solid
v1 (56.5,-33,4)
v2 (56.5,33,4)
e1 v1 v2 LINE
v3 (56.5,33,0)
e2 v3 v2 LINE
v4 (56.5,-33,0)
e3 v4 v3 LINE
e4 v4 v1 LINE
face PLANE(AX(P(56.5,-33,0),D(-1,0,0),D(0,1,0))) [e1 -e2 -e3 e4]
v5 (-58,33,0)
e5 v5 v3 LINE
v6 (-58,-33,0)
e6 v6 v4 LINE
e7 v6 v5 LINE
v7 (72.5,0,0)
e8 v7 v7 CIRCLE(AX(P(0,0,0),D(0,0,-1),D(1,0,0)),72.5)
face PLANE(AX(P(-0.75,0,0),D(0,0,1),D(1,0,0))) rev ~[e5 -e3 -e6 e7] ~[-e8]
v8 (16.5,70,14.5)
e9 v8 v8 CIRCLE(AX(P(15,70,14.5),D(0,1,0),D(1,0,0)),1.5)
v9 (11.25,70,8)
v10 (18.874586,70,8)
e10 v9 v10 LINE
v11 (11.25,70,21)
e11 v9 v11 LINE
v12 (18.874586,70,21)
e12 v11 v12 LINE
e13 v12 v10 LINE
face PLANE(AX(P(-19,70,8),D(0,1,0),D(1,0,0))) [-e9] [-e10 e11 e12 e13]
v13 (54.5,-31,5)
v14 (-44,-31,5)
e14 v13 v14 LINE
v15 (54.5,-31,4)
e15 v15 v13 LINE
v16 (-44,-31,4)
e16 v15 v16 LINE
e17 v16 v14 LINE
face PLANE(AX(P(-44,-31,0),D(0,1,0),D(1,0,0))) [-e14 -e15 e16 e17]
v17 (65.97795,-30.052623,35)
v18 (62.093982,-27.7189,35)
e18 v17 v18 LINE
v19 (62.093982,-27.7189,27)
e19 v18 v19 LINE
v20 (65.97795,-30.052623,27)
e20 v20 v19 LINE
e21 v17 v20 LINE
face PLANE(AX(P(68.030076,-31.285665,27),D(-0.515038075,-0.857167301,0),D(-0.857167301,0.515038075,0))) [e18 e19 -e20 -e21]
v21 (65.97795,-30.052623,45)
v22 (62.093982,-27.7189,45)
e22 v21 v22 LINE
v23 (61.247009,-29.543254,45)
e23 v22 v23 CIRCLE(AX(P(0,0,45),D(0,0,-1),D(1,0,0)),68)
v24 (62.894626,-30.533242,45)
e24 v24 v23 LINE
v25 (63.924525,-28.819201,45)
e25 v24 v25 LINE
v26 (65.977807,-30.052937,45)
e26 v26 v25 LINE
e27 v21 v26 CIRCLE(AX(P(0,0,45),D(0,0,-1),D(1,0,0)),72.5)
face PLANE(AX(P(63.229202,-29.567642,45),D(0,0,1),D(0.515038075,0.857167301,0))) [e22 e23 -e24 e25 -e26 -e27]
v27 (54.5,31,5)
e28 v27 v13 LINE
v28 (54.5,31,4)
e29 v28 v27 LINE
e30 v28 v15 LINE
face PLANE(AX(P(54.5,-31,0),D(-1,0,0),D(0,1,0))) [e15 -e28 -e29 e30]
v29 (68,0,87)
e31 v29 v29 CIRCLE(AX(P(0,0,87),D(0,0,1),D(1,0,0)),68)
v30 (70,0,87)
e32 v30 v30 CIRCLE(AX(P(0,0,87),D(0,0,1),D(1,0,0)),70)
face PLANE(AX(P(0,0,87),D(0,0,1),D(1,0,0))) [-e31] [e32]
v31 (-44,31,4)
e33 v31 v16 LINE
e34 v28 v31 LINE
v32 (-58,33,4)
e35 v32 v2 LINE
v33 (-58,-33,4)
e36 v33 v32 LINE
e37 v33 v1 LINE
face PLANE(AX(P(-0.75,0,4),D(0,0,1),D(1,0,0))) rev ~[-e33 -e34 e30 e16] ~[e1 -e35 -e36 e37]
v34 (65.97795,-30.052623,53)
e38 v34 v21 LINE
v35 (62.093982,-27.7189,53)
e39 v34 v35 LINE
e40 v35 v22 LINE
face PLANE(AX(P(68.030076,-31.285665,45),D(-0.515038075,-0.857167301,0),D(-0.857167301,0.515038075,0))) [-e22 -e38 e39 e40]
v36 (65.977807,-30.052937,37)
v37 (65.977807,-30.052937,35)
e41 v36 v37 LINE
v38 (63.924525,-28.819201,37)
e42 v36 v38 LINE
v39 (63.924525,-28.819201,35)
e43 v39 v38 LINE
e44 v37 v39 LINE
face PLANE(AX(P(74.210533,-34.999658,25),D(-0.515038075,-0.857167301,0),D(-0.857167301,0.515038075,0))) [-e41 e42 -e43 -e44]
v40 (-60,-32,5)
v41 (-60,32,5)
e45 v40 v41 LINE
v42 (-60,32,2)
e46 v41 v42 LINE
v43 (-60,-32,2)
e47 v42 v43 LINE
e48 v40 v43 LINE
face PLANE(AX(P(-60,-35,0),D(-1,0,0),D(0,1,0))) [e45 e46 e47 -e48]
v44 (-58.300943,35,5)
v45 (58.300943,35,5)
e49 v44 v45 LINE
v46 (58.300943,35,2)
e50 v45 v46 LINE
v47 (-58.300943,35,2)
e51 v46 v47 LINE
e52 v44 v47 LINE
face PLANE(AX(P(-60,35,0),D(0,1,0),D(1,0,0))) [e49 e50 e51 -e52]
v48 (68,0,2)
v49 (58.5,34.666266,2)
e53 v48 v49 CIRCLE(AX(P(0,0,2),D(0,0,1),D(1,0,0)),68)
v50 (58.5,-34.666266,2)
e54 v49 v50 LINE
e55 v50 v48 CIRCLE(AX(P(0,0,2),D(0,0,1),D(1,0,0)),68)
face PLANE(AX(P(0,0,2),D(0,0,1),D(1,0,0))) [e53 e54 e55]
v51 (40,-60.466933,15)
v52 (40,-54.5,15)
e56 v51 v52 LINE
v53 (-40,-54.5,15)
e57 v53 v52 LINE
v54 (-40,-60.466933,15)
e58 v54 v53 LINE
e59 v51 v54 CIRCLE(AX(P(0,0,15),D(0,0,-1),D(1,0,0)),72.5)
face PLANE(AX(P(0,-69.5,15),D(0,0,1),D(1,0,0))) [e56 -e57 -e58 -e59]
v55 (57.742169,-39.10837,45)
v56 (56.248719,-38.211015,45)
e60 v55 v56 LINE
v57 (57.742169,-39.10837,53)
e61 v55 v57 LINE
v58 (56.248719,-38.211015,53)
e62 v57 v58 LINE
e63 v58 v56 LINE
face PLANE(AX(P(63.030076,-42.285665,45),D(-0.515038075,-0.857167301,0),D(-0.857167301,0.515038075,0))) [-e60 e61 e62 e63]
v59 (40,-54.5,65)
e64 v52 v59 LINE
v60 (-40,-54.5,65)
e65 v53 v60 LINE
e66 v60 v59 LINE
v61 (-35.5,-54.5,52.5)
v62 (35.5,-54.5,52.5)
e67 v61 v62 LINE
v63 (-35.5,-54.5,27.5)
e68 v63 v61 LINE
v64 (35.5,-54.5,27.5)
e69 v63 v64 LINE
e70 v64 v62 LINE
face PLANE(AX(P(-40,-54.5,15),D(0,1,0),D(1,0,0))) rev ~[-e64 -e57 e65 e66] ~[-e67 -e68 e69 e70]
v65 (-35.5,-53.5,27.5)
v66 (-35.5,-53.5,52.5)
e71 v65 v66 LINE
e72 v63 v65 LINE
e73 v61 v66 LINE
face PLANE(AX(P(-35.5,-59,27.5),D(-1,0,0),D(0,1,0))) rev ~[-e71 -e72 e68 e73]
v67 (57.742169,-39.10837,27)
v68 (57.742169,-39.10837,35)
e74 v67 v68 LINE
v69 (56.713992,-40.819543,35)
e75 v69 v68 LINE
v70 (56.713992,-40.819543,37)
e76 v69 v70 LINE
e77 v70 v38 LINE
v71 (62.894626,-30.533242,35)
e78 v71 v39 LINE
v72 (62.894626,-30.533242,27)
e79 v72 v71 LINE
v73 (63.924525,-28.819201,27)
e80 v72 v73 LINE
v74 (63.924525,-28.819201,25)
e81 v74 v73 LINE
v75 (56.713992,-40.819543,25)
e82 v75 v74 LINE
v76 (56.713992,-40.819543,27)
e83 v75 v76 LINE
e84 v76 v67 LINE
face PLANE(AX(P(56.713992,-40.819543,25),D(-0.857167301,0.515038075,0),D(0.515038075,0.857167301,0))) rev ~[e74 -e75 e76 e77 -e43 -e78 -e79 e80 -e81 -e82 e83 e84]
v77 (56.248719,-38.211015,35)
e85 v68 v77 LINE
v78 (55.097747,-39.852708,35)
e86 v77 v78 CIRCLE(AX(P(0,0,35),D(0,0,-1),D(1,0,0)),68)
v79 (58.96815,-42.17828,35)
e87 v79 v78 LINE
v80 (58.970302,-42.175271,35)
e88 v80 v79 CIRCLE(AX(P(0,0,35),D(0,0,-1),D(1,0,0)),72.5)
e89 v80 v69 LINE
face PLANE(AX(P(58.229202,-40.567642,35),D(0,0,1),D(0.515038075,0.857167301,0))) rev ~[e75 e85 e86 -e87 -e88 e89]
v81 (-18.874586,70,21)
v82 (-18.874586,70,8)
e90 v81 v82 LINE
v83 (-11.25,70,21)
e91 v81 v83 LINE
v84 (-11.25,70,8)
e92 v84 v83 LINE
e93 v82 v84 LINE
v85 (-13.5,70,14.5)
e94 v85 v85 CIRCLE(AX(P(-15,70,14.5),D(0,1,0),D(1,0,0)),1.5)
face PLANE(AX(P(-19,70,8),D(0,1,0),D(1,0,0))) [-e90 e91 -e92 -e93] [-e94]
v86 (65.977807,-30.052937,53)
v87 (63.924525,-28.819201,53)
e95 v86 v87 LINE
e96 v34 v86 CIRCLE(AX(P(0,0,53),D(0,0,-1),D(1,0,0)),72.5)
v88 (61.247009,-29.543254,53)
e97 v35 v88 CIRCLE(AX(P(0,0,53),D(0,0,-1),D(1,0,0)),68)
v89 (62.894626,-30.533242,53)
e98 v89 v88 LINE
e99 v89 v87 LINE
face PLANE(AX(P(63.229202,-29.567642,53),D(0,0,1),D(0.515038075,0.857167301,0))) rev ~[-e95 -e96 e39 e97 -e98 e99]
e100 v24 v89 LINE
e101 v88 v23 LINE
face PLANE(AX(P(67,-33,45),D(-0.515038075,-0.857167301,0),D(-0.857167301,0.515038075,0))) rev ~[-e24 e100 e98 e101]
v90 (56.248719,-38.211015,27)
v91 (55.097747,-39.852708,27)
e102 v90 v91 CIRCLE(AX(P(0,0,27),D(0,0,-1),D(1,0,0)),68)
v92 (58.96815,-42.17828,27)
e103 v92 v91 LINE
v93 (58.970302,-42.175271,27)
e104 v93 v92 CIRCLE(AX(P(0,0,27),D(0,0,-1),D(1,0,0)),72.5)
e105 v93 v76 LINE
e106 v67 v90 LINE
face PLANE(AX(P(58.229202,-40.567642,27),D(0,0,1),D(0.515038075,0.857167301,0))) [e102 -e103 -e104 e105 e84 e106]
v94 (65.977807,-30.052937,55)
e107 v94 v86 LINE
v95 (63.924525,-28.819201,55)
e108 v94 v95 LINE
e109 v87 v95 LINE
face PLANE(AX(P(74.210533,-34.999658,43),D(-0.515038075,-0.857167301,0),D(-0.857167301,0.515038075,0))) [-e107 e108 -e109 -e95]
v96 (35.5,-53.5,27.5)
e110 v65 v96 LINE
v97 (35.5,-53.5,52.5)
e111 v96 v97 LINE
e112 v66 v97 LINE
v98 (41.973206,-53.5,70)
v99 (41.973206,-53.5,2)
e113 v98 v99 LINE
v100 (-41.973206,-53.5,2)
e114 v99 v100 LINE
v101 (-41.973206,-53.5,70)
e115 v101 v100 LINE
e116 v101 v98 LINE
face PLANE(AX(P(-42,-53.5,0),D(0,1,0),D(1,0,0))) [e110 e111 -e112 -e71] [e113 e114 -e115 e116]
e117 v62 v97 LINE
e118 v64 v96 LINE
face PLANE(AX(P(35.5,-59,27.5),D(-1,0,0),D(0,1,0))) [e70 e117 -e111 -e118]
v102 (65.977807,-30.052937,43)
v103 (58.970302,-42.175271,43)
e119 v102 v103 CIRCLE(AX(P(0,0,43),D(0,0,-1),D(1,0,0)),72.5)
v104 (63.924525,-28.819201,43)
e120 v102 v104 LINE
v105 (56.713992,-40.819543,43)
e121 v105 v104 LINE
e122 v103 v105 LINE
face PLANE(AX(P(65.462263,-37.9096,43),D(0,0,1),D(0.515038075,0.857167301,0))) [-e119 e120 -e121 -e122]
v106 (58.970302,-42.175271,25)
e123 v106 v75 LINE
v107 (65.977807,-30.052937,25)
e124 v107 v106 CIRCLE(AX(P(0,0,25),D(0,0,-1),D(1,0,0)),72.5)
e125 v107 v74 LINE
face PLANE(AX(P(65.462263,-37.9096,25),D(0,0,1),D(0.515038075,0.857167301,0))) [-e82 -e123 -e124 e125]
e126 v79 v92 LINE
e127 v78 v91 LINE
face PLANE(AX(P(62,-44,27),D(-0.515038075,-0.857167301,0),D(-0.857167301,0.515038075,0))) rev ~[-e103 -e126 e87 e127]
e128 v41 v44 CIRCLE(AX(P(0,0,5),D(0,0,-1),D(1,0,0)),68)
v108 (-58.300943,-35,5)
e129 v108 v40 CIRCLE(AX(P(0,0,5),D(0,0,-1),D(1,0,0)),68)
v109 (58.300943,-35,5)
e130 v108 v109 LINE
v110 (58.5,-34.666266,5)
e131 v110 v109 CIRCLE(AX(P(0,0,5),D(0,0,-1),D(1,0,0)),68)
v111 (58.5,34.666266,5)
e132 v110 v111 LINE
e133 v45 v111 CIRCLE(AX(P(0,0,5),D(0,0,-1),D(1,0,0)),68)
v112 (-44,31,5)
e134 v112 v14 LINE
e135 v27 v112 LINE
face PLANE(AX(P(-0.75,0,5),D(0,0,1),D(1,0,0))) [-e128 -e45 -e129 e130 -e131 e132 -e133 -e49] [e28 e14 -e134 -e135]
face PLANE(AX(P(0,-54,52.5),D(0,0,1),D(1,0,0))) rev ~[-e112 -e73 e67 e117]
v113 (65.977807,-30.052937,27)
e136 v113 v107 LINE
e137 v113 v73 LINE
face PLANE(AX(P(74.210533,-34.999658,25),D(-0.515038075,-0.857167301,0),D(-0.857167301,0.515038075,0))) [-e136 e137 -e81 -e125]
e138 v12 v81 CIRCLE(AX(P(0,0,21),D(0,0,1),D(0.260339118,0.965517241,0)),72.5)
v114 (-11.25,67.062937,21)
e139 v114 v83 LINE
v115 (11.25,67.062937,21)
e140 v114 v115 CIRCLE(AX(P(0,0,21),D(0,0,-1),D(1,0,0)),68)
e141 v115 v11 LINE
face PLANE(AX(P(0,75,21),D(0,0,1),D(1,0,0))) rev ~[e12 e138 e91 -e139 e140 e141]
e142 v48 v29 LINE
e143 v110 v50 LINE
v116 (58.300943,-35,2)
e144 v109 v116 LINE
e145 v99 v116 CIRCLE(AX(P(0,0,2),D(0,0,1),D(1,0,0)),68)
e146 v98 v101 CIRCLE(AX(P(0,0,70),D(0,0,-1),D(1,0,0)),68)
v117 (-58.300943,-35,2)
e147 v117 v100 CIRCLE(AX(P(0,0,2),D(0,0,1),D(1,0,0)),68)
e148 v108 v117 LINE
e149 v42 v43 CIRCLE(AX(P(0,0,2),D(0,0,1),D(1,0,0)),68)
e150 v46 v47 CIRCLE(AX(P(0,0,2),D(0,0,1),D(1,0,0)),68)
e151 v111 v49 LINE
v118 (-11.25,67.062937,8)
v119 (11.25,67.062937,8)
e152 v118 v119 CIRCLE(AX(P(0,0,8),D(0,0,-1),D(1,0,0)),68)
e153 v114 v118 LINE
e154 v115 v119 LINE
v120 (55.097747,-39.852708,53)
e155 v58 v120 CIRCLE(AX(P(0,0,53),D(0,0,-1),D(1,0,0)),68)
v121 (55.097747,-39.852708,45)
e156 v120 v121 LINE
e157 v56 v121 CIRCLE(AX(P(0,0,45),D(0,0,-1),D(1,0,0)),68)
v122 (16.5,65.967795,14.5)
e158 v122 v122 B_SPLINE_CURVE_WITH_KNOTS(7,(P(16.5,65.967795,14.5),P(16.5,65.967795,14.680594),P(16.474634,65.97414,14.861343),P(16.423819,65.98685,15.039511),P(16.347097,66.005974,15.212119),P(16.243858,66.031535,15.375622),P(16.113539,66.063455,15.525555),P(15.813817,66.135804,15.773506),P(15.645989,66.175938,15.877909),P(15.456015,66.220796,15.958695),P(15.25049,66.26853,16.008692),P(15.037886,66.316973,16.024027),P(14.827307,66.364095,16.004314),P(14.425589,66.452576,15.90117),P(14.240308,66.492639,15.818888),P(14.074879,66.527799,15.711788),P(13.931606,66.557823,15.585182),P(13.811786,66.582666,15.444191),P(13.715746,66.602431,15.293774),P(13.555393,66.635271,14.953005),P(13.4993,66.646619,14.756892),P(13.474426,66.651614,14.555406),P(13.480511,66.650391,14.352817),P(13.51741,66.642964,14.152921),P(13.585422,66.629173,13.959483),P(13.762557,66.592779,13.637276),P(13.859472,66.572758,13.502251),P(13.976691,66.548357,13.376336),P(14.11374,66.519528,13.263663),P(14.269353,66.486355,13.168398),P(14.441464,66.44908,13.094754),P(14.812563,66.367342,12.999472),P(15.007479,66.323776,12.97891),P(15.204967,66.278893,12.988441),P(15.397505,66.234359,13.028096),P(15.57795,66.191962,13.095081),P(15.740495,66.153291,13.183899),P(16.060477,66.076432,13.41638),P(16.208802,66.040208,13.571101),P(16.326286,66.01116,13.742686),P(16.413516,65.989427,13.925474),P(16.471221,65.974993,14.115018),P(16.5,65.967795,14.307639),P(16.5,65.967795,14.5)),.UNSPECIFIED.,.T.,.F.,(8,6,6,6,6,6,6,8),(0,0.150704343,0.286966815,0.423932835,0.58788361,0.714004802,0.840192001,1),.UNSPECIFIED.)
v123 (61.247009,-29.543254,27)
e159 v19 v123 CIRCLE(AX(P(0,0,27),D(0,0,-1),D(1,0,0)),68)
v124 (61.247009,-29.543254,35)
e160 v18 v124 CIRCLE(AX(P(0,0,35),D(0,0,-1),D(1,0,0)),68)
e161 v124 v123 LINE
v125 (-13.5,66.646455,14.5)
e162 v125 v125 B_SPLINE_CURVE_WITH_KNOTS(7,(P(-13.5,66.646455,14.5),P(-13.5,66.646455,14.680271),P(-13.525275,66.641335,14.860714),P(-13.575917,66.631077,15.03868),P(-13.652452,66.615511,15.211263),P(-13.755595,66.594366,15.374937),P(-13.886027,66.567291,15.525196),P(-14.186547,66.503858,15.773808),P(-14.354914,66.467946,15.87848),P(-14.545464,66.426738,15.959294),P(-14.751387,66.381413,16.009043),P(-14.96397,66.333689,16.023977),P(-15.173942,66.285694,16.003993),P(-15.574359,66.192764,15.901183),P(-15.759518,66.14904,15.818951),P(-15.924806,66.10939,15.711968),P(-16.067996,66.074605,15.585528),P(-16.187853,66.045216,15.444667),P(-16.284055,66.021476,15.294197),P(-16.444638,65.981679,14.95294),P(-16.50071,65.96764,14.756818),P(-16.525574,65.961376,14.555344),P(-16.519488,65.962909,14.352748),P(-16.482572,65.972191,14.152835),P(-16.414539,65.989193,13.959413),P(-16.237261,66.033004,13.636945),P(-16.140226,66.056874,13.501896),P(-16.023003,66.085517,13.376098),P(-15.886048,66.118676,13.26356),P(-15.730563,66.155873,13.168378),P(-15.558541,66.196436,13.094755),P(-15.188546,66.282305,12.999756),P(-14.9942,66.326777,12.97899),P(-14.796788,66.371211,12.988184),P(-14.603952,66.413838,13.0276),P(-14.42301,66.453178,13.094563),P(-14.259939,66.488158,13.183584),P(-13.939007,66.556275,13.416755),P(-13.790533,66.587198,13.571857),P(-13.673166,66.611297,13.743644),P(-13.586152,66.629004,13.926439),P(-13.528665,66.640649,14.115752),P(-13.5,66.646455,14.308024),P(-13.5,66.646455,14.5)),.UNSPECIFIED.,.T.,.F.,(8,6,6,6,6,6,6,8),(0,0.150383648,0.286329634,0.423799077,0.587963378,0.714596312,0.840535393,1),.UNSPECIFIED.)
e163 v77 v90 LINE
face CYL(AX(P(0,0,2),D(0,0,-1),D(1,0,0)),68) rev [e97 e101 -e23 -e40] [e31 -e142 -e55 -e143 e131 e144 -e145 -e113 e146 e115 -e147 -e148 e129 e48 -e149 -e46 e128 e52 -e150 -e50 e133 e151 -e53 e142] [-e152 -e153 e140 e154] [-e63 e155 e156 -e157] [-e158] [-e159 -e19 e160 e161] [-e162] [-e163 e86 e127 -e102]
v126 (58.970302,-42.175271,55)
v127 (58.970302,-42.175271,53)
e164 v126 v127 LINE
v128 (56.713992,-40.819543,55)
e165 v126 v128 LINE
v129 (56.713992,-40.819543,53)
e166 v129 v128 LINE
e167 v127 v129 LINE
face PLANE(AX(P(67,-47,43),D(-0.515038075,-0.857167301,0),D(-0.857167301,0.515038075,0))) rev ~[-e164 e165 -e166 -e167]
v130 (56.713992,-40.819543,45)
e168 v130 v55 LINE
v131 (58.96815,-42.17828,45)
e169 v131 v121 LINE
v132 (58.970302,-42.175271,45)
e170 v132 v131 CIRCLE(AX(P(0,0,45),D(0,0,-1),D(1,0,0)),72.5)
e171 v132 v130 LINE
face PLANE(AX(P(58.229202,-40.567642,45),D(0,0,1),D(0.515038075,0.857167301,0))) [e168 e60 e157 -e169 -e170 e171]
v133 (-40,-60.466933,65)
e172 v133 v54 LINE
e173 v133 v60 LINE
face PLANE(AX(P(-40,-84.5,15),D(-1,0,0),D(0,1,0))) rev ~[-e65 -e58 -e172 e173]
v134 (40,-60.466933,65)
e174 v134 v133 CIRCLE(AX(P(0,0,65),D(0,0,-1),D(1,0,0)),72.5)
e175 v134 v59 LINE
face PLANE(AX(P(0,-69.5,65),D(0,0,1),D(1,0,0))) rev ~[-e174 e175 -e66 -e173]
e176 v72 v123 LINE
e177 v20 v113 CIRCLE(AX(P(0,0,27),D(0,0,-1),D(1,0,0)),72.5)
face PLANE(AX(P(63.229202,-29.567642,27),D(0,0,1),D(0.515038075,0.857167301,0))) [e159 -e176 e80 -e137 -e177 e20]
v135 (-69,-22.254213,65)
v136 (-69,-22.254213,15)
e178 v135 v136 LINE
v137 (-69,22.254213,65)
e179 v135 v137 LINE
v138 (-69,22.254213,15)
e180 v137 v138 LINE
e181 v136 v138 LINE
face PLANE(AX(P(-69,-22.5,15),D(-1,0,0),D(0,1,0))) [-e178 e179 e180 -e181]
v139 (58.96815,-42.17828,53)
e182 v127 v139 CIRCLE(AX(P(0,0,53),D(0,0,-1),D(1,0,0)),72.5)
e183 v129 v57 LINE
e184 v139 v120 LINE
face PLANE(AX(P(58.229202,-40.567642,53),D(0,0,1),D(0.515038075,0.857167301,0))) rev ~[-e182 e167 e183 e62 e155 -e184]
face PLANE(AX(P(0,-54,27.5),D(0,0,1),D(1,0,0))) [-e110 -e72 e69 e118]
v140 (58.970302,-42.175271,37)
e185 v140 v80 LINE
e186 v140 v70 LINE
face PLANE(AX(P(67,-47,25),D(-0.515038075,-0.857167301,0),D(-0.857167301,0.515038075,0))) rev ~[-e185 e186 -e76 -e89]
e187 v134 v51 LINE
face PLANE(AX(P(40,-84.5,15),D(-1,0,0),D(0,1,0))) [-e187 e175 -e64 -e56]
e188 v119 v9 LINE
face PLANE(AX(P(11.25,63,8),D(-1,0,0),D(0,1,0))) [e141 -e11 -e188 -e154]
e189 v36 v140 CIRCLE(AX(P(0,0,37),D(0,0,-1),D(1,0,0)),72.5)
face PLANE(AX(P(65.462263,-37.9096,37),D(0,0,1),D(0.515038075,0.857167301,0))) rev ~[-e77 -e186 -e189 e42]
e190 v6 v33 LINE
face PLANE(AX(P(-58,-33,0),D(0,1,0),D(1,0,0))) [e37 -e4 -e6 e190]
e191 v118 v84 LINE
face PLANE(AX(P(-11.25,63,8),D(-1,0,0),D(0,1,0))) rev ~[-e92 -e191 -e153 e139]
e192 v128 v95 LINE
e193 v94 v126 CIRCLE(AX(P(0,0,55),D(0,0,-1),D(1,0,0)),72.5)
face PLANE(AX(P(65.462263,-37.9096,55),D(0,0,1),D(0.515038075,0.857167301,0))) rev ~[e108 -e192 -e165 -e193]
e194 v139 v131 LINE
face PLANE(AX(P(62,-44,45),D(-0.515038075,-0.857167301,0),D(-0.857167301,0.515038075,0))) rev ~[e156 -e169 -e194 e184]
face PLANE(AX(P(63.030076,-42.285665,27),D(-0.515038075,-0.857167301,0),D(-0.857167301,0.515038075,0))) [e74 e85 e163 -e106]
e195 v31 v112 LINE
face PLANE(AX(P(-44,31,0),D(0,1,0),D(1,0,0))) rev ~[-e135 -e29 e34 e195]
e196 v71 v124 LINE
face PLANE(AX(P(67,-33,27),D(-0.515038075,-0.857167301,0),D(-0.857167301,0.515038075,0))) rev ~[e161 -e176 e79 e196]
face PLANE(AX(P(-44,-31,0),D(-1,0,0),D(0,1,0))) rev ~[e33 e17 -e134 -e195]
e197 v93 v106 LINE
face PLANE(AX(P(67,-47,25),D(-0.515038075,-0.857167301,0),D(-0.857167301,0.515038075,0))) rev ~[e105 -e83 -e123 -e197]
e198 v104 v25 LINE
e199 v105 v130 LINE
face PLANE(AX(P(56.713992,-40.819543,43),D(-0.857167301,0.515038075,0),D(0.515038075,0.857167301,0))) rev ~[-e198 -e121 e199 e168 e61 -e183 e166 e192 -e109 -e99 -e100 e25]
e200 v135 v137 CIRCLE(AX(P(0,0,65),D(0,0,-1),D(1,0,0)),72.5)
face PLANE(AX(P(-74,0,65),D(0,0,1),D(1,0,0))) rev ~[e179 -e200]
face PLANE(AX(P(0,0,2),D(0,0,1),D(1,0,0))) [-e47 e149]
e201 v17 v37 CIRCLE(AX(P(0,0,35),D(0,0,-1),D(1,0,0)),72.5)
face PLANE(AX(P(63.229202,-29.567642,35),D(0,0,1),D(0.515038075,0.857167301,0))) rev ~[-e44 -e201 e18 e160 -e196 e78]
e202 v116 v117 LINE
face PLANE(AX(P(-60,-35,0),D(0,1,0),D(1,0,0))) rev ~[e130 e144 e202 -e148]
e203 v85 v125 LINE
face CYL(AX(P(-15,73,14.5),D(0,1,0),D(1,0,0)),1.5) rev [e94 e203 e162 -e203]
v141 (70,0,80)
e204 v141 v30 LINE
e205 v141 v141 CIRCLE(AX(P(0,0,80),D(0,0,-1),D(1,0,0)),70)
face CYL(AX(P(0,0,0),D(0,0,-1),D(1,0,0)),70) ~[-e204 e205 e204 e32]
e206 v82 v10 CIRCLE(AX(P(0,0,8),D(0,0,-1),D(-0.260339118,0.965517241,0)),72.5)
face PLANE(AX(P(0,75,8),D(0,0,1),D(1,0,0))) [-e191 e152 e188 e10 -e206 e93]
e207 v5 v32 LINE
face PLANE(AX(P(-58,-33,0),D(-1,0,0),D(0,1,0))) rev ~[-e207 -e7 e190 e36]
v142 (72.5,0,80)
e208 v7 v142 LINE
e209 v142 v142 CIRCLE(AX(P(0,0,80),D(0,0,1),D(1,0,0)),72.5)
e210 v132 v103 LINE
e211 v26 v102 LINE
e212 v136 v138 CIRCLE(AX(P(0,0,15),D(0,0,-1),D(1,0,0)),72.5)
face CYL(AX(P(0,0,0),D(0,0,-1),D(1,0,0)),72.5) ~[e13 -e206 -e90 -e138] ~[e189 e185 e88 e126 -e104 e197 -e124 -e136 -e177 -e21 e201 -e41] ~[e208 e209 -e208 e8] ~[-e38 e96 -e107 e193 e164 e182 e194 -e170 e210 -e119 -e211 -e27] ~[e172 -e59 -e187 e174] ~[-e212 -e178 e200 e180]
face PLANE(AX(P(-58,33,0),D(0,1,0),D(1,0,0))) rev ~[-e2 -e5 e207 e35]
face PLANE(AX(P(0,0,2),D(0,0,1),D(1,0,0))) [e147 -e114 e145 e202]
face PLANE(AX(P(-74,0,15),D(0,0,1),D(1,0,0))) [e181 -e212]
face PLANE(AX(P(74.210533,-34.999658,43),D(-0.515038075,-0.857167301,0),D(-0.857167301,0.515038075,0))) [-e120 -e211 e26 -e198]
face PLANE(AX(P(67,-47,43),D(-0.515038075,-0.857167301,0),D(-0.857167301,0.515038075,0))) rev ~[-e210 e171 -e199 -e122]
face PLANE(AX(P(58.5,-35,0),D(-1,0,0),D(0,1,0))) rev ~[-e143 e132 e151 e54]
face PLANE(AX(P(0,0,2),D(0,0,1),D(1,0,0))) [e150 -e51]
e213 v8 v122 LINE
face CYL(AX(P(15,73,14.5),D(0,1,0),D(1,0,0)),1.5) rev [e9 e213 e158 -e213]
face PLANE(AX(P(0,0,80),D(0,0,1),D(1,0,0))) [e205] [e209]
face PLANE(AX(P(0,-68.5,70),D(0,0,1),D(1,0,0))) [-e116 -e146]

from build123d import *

# Parameters (mm, degrees)
CYLINDER004_R          = 1.5
CYLINDER004_DEPTH      = 10
CYLINDER004_ROLL_ANGLE = 90
CYLINDER003_R          = 1.5
CYLINDER003_DEPTH      = 10
CYLINDER003_ROLL_ANGLE = 90
BOX016_W               = 22.5
BOX016_H               = 13
BOX016_DEPTH           = 13
BOX015_W               = 38
BOX015_H               = 10
BOX015_DEPTH           = 13
BOX013_W               = 98.5
BOX013_H               = 62
BOX013_DEPTH           = 10
BOX012_W               = 114.5
BOX012_H               = 66
BOX012_DEPTH           = 4
BOX014_W               = 118.5
BOX014_H               = 70
BOX014_DEPTH           = 5
BOX010_W               = 2
BOX010_H               = 10
BOX010_DEPTH           = 8
BOX010_PLACEMENT_ANGLE = 59
BOX011_W               = 2
BOX011_H               = 10
BOX011_DEPTH           = 8
BOX011_PLACEMENT_ANGLE = 59
BOX009_W               = 2
BOX009_H               = 10
BOX009_DEPTH           = 8
BOX009_PLACEMENT_ANGLE = 59
BOX008_W               = 2
BOX008_H               = 10
BOX008_DEPTH           = 8
BOX008_PLACEMENT_ANGLE = 59
BOX007_W               = 10
BOX007_H               = 45
BOX007_DEPTH           = 50
BOX006_W               = 14
BOX006_H               = 12
BOX006_DEPTH           = 12
BOX006_PLACEMENT_ANGLE = 59
BOX004_W               = 14
BOX004_H               = 12
BOX004_DEPTH           = 12
BOX004_PLACEMENT_ANGLE = 59
BOX002_W               = 71
BOX002_H               = 10
BOX002_DEPTH           = 25
BOX001_W               = 80
BOX001_H               = 30
BOX001_DEPTH           = 50
BOX_W                  = 84
BOX_H                  = 30
BOX_DEPTH              = 70
CYLINDER001_R          = 70
CYLINDER001_DEPTH      = 87
CYLINDER_R             = 72.5
CYLINDER_DEPTH         = 80
CYLINDER002_R          = 68
CYLINDER002_DEPTH      = 85


with BuildPart() as screwcutout002:
    # Cylinder004 → Cylinder004 (new body)
    with BuildSketch(Plane.XY):
        Circle(CYLINDER004_R)
    extrude(amount=CYLINDER004_DEPTH)


with BuildPart() as screwcutout002_1:
    # Cylinder004 roll: moved
    add(screwcutout002.part.rotate(Axis((0, 0, 0), (1, 0, 0)), CYLINDER004_ROLL_ANGLE))


with BuildPart() as screwcutout002_2:
    # Cylinder004 placement: moved
    add(screwcutout002_1.part.moved(Location((-15, 73, 14.5))))


with BuildPart() as screwcutout1:
    # Cylinder003 → Cylinder003 (new body)
    with BuildSketch(Plane.XY):
        Circle(CYLINDER003_R)
    extrude(amount=CYLINDER003_DEPTH)


with BuildPart() as screwcutout1_1:
    # Cylinder003 roll: moved
    add(screwcutout1.part.rotate(Axis((0, 0, 0), (1, 0, 0)), CYLINDER003_ROLL_ANGLE))


with BuildPart() as screwcutout1_2:
    # Cylinder003 placement: moved
    add(screwcutout1_1.part.moved(Location((15, 73, 14.5))))


with BuildPart() as powercutout:
    # Box016 → Box016 (new body)
    with BuildSketch(Plane(origin=(-11.25, 63, 8), x_dir=(1, 0, 0), z_dir=(0, 0, 1))):
        with Locations((11.25, 6.5)):
            Rectangle(BOX016_W, BOX016_H)
    extrude(amount=BOX016_DEPTH)


with BuildPart() as powerswitch:
    # Box015 → Box015 (new body)
    with BuildSketch(Plane(origin=(-19, 70, 8), x_dir=(1, 0, 0), z_dir=(0, 0, 1))):
        with Locations((19, 5)):
            Rectangle(BOX015_W, BOX015_H)
    extrude(amount=BOX015_DEPTH)


with BuildPart() as battery_cutout:
    # Box013 → Box013 (new body)
    with BuildSketch(Plane(origin=(-44, -31, 0), x_dir=(1, 0, 0), z_dir=(0, 0, 1))):
        with Locations((49.25, 31)):
            Rectangle(BOX013_W, BOX013_H)
    extrude(amount=BOX013_DEPTH)


with BuildPart() as battery_cutout001:
    # Box012 → Box012 (new body)
    with BuildSketch(Plane(origin=(-58, -33, 0), x_dir=(1, 0, 0), z_dir=(0, 0, 1))):
        with Locations((57.25, 33)):
            Rectangle(BOX012_W, BOX012_H)
    extrude(amount=BOX012_DEPTH)


with BuildPart() as battery_fillup:
    # Box014 → Box014 (new body)
    with BuildSketch(Plane(origin=(-60, -35, 0), x_dir=(1, 0, 0), z_dir=(0, 0, 1))):
        with Locations((59.25, 35)):
            Rectangle(BOX014_W, BOX014_H)
    extrude(amount=BOX014_DEPTH)


with BuildPart() as pin2_cutout001:
    # Box010 → Box010 (new body)
    with BuildSketch(Plane.XY):
        with Locations((1, 5)):
            Rectangle(BOX010_W, BOX010_H)
    extrude(amount=BOX010_DEPTH)


with BuildPart() as pin2_cutout001_1:
    # Box010 placement: moved
    add(pin2_cutout001.part.moved(Location((67, -33, 45))).rotate(Axis((67, -33, 45), (0, 0, 1)), BOX010_PLACEMENT_ANGLE))


with BuildPart() as pin1_cutout001:
    # Box011 → Box011 (new body)
    with BuildSketch(Plane.XY):
        with Locations((1, 5)):
            Rectangle(BOX011_W, BOX011_H)
    extrude(amount=BOX011_DEPTH)


with BuildPart() as pin1_cutout001_1:
    # Box011 placement: moved
    add(pin1_cutout001.part.moved(Location((62, -44, 45))).rotate(Axis((62, -44, 45), (0, 0, 1)), BOX011_PLACEMENT_ANGLE))


with BuildPart() as pin2_cutout:
    # Box009 → Box009 (new body)
    with BuildSketch(Plane.XY):
        with Locations((1, 5)):
            Rectangle(BOX009_W, BOX009_H)
    extrude(amount=BOX009_DEPTH)


with BuildPart() as pin2_cutout_1:
    # Box009 placement: moved
    add(pin2_cutout.part.moved(Location((67, -33, 27))).rotate(Axis((67, -33, 27), (0, 0, 1)), BOX009_PLACEMENT_ANGLE))


with BuildPart() as pin1_cutout:
    # Box008 → Box008 (new body)
    with BuildSketch(Plane.XY):
        with Locations((1, 5)):
            Rectangle(BOX008_W, BOX008_H)
    extrude(amount=BOX008_DEPTH)


with BuildPart() as pin1_cutout_1:
    # Box008 placement: moved
    add(pin1_cutout.part.moved(Location((62, -44, 27))).rotate(Axis((62, -44, 27), (0, 0, 1)), BOX008_PLACEMENT_ANGLE))


with BuildPart() as rfid_cutout:
    # Box007 → Box007 (new body)
    with BuildSketch(Plane(origin=(-79, -22.5, 15), x_dir=(1, 0, 0), z_dir=(0, 0, 1))):
        with Locations((5, 22.5)):
            Rectangle(BOX007_W, BOX007_H)
    extrude(amount=BOX007_DEPTH)


with BuildPart() as box006:
    # Box006 → Box006 (new body)
    with BuildSketch(Plane.XY):
        with Locations((7, 6)):
            Rectangle(BOX006_W, BOX006_H)
    extrude(amount=BOX006_DEPTH)


with BuildPart() as box006_1:
    # Box006 placement: moved
    add(box006.part.moved(Location((67, -47, 25))).rotate(Axis((67, -47, 25), (0, 0, 1)), BOX006_PLACEMENT_ANGLE))


with BuildPart() as box004:
    # Box004 → Box004 (new body)
    with BuildSketch(Plane.XY):
        with Locations((7, 6)):
            Rectangle(BOX004_W, BOX004_H)
    extrude(amount=BOX004_DEPTH)


with BuildPart() as box004_1:
    # Box004 placement: moved
    add(box004.part.moved(Location((67, -47, 43))).rotate(Axis((67, -47, 43), (0, 0, 1)), BOX004_PLACEMENT_ANGLE))


with BuildPart() as inner_dsp_cutout:
    # Box002 → Box002 (new body)
    with BuildSketch(Plane(origin=(-35.5, -59, 27.5), x_dir=(1, 0, 0), z_dir=(0, 0, 1))):
        with Locations((35.5, 5)):
            Rectangle(BOX002_W, BOX002_H)
    extrude(amount=BOX002_DEPTH)


with BuildPart() as display_cutout_big:
    # Box001 → Box001 (new body)
    with BuildSketch(Plane(origin=(-40, -84.5, 15), x_dir=(1, 0, 0), z_dir=(0, 0, 1))):
        with Locations((40, 15)):
            Rectangle(BOX001_W, BOX001_H)
    extrude(amount=BOX001_DEPTH)


with BuildPart() as display_fillup:
    # Box → Box (new body)
    with BuildSketch(Plane(origin=(-42, -83.5, 0), x_dir=(1, 0, 0), z_dir=(0, 0, 1))):
        with Locations((42, 15)):
            Rectangle(BOX_W, BOX_H)
    extrude(amount=BOX_DEPTH)


with BuildPart() as wall:
    # Cylinder001 → Cylinder001 (new body)
    with BuildSketch(Plane.XY):
        Circle(CYLINDER001_R)
    extrude(amount=CYLINDER001_DEPTH)


with BuildPart() as fusion:
    # Cylinder → Cylinder (new body)
    with BuildSketch(Plane.XY):
        Circle(CYLINDER_R)
    extrude(amount=CYLINDER_DEPTH)

    # Fusion: union wall
    add(wall.part)


with BuildPart() as common:
    # Common base: copy of Fusion
    add(fusion.part)

    # Common: intersect display_fillup
    add(display_fillup.part, mode=Mode.INTERSECT)


with BuildPart() as base_cutout:
    # Cylinder002 → Cylinder002 (new body)
    with BuildSketch(Plane.XY.offset(2)):
        Circle(CYLINDER002_R)
    extrude(amount=CYLINDER002_DEPTH)


with BuildPart() as cut016:
    # Cut base: copy of Fusion
    add(fusion.part)

    # Cut: cut base_cutout
    add(base_cutout.part, mode=Mode.SUBTRACT)

    # Fusion001: union Common
    add(common.part)

    # Cut001: cut display_cutout_big
    add(display_cutout_big.part, mode=Mode.SUBTRACT)

    # Cut002: cut inner_dsp_cutout
    add(inner_dsp_cutout.part, mode=Mode.SUBTRACT)

    # Cut003: cut Box004
    add(box004_1.part, mode=Mode.SUBTRACT)

    # Cut004: cut Box006
    add(box006_1.part, mode=Mode.SUBTRACT)

    # Cut005: cut rfid_cutout
    add(rfid_cutout.part, mode=Mode.SUBTRACT)

    # Cut006: cut pin1_cutout
    add(pin1_cutout_1.part, mode=Mode.SUBTRACT)

    # Cut007: cut pin2_cutout
    add(pin2_cutout_1.part, mode=Mode.SUBTRACT)

    # Cut008: cut pin1_cutout001
    add(pin1_cutout001_1.part, mode=Mode.SUBTRACT)

    # Cut009: cut pin2_cutout001
    add(pin2_cutout001_1.part, mode=Mode.SUBTRACT)

    # Fusion002: union battery_fillup
    add(battery_fillup.part)

    # Cut010: cut battery_cutout001
    add(battery_cutout001.part, mode=Mode.SUBTRACT)

    # Cut011: cut battery_cutout
    add(battery_cutout.part, mode=Mode.SUBTRACT)

    # Cut012: cut PowerSwitch
    add(powerswitch.part, mode=Mode.SUBTRACT)

    # Cut013: cut PowerSwitch
    add(powerswitch.part, mode=Mode.SUBTRACT)

    # Cut014: cut PowerCutout
    add(powercutout.part, mode=Mode.SUBTRACT)

    # Cut015: cut ScrewCutout1
    add(screwcutout1_2.part, mode=Mode.SUBTRACT)

    # Cut016: cut ScrewCutout002
    add(screwcutout002_2.part, mode=Mode.SUBTRACT)


solid = cut016.part
